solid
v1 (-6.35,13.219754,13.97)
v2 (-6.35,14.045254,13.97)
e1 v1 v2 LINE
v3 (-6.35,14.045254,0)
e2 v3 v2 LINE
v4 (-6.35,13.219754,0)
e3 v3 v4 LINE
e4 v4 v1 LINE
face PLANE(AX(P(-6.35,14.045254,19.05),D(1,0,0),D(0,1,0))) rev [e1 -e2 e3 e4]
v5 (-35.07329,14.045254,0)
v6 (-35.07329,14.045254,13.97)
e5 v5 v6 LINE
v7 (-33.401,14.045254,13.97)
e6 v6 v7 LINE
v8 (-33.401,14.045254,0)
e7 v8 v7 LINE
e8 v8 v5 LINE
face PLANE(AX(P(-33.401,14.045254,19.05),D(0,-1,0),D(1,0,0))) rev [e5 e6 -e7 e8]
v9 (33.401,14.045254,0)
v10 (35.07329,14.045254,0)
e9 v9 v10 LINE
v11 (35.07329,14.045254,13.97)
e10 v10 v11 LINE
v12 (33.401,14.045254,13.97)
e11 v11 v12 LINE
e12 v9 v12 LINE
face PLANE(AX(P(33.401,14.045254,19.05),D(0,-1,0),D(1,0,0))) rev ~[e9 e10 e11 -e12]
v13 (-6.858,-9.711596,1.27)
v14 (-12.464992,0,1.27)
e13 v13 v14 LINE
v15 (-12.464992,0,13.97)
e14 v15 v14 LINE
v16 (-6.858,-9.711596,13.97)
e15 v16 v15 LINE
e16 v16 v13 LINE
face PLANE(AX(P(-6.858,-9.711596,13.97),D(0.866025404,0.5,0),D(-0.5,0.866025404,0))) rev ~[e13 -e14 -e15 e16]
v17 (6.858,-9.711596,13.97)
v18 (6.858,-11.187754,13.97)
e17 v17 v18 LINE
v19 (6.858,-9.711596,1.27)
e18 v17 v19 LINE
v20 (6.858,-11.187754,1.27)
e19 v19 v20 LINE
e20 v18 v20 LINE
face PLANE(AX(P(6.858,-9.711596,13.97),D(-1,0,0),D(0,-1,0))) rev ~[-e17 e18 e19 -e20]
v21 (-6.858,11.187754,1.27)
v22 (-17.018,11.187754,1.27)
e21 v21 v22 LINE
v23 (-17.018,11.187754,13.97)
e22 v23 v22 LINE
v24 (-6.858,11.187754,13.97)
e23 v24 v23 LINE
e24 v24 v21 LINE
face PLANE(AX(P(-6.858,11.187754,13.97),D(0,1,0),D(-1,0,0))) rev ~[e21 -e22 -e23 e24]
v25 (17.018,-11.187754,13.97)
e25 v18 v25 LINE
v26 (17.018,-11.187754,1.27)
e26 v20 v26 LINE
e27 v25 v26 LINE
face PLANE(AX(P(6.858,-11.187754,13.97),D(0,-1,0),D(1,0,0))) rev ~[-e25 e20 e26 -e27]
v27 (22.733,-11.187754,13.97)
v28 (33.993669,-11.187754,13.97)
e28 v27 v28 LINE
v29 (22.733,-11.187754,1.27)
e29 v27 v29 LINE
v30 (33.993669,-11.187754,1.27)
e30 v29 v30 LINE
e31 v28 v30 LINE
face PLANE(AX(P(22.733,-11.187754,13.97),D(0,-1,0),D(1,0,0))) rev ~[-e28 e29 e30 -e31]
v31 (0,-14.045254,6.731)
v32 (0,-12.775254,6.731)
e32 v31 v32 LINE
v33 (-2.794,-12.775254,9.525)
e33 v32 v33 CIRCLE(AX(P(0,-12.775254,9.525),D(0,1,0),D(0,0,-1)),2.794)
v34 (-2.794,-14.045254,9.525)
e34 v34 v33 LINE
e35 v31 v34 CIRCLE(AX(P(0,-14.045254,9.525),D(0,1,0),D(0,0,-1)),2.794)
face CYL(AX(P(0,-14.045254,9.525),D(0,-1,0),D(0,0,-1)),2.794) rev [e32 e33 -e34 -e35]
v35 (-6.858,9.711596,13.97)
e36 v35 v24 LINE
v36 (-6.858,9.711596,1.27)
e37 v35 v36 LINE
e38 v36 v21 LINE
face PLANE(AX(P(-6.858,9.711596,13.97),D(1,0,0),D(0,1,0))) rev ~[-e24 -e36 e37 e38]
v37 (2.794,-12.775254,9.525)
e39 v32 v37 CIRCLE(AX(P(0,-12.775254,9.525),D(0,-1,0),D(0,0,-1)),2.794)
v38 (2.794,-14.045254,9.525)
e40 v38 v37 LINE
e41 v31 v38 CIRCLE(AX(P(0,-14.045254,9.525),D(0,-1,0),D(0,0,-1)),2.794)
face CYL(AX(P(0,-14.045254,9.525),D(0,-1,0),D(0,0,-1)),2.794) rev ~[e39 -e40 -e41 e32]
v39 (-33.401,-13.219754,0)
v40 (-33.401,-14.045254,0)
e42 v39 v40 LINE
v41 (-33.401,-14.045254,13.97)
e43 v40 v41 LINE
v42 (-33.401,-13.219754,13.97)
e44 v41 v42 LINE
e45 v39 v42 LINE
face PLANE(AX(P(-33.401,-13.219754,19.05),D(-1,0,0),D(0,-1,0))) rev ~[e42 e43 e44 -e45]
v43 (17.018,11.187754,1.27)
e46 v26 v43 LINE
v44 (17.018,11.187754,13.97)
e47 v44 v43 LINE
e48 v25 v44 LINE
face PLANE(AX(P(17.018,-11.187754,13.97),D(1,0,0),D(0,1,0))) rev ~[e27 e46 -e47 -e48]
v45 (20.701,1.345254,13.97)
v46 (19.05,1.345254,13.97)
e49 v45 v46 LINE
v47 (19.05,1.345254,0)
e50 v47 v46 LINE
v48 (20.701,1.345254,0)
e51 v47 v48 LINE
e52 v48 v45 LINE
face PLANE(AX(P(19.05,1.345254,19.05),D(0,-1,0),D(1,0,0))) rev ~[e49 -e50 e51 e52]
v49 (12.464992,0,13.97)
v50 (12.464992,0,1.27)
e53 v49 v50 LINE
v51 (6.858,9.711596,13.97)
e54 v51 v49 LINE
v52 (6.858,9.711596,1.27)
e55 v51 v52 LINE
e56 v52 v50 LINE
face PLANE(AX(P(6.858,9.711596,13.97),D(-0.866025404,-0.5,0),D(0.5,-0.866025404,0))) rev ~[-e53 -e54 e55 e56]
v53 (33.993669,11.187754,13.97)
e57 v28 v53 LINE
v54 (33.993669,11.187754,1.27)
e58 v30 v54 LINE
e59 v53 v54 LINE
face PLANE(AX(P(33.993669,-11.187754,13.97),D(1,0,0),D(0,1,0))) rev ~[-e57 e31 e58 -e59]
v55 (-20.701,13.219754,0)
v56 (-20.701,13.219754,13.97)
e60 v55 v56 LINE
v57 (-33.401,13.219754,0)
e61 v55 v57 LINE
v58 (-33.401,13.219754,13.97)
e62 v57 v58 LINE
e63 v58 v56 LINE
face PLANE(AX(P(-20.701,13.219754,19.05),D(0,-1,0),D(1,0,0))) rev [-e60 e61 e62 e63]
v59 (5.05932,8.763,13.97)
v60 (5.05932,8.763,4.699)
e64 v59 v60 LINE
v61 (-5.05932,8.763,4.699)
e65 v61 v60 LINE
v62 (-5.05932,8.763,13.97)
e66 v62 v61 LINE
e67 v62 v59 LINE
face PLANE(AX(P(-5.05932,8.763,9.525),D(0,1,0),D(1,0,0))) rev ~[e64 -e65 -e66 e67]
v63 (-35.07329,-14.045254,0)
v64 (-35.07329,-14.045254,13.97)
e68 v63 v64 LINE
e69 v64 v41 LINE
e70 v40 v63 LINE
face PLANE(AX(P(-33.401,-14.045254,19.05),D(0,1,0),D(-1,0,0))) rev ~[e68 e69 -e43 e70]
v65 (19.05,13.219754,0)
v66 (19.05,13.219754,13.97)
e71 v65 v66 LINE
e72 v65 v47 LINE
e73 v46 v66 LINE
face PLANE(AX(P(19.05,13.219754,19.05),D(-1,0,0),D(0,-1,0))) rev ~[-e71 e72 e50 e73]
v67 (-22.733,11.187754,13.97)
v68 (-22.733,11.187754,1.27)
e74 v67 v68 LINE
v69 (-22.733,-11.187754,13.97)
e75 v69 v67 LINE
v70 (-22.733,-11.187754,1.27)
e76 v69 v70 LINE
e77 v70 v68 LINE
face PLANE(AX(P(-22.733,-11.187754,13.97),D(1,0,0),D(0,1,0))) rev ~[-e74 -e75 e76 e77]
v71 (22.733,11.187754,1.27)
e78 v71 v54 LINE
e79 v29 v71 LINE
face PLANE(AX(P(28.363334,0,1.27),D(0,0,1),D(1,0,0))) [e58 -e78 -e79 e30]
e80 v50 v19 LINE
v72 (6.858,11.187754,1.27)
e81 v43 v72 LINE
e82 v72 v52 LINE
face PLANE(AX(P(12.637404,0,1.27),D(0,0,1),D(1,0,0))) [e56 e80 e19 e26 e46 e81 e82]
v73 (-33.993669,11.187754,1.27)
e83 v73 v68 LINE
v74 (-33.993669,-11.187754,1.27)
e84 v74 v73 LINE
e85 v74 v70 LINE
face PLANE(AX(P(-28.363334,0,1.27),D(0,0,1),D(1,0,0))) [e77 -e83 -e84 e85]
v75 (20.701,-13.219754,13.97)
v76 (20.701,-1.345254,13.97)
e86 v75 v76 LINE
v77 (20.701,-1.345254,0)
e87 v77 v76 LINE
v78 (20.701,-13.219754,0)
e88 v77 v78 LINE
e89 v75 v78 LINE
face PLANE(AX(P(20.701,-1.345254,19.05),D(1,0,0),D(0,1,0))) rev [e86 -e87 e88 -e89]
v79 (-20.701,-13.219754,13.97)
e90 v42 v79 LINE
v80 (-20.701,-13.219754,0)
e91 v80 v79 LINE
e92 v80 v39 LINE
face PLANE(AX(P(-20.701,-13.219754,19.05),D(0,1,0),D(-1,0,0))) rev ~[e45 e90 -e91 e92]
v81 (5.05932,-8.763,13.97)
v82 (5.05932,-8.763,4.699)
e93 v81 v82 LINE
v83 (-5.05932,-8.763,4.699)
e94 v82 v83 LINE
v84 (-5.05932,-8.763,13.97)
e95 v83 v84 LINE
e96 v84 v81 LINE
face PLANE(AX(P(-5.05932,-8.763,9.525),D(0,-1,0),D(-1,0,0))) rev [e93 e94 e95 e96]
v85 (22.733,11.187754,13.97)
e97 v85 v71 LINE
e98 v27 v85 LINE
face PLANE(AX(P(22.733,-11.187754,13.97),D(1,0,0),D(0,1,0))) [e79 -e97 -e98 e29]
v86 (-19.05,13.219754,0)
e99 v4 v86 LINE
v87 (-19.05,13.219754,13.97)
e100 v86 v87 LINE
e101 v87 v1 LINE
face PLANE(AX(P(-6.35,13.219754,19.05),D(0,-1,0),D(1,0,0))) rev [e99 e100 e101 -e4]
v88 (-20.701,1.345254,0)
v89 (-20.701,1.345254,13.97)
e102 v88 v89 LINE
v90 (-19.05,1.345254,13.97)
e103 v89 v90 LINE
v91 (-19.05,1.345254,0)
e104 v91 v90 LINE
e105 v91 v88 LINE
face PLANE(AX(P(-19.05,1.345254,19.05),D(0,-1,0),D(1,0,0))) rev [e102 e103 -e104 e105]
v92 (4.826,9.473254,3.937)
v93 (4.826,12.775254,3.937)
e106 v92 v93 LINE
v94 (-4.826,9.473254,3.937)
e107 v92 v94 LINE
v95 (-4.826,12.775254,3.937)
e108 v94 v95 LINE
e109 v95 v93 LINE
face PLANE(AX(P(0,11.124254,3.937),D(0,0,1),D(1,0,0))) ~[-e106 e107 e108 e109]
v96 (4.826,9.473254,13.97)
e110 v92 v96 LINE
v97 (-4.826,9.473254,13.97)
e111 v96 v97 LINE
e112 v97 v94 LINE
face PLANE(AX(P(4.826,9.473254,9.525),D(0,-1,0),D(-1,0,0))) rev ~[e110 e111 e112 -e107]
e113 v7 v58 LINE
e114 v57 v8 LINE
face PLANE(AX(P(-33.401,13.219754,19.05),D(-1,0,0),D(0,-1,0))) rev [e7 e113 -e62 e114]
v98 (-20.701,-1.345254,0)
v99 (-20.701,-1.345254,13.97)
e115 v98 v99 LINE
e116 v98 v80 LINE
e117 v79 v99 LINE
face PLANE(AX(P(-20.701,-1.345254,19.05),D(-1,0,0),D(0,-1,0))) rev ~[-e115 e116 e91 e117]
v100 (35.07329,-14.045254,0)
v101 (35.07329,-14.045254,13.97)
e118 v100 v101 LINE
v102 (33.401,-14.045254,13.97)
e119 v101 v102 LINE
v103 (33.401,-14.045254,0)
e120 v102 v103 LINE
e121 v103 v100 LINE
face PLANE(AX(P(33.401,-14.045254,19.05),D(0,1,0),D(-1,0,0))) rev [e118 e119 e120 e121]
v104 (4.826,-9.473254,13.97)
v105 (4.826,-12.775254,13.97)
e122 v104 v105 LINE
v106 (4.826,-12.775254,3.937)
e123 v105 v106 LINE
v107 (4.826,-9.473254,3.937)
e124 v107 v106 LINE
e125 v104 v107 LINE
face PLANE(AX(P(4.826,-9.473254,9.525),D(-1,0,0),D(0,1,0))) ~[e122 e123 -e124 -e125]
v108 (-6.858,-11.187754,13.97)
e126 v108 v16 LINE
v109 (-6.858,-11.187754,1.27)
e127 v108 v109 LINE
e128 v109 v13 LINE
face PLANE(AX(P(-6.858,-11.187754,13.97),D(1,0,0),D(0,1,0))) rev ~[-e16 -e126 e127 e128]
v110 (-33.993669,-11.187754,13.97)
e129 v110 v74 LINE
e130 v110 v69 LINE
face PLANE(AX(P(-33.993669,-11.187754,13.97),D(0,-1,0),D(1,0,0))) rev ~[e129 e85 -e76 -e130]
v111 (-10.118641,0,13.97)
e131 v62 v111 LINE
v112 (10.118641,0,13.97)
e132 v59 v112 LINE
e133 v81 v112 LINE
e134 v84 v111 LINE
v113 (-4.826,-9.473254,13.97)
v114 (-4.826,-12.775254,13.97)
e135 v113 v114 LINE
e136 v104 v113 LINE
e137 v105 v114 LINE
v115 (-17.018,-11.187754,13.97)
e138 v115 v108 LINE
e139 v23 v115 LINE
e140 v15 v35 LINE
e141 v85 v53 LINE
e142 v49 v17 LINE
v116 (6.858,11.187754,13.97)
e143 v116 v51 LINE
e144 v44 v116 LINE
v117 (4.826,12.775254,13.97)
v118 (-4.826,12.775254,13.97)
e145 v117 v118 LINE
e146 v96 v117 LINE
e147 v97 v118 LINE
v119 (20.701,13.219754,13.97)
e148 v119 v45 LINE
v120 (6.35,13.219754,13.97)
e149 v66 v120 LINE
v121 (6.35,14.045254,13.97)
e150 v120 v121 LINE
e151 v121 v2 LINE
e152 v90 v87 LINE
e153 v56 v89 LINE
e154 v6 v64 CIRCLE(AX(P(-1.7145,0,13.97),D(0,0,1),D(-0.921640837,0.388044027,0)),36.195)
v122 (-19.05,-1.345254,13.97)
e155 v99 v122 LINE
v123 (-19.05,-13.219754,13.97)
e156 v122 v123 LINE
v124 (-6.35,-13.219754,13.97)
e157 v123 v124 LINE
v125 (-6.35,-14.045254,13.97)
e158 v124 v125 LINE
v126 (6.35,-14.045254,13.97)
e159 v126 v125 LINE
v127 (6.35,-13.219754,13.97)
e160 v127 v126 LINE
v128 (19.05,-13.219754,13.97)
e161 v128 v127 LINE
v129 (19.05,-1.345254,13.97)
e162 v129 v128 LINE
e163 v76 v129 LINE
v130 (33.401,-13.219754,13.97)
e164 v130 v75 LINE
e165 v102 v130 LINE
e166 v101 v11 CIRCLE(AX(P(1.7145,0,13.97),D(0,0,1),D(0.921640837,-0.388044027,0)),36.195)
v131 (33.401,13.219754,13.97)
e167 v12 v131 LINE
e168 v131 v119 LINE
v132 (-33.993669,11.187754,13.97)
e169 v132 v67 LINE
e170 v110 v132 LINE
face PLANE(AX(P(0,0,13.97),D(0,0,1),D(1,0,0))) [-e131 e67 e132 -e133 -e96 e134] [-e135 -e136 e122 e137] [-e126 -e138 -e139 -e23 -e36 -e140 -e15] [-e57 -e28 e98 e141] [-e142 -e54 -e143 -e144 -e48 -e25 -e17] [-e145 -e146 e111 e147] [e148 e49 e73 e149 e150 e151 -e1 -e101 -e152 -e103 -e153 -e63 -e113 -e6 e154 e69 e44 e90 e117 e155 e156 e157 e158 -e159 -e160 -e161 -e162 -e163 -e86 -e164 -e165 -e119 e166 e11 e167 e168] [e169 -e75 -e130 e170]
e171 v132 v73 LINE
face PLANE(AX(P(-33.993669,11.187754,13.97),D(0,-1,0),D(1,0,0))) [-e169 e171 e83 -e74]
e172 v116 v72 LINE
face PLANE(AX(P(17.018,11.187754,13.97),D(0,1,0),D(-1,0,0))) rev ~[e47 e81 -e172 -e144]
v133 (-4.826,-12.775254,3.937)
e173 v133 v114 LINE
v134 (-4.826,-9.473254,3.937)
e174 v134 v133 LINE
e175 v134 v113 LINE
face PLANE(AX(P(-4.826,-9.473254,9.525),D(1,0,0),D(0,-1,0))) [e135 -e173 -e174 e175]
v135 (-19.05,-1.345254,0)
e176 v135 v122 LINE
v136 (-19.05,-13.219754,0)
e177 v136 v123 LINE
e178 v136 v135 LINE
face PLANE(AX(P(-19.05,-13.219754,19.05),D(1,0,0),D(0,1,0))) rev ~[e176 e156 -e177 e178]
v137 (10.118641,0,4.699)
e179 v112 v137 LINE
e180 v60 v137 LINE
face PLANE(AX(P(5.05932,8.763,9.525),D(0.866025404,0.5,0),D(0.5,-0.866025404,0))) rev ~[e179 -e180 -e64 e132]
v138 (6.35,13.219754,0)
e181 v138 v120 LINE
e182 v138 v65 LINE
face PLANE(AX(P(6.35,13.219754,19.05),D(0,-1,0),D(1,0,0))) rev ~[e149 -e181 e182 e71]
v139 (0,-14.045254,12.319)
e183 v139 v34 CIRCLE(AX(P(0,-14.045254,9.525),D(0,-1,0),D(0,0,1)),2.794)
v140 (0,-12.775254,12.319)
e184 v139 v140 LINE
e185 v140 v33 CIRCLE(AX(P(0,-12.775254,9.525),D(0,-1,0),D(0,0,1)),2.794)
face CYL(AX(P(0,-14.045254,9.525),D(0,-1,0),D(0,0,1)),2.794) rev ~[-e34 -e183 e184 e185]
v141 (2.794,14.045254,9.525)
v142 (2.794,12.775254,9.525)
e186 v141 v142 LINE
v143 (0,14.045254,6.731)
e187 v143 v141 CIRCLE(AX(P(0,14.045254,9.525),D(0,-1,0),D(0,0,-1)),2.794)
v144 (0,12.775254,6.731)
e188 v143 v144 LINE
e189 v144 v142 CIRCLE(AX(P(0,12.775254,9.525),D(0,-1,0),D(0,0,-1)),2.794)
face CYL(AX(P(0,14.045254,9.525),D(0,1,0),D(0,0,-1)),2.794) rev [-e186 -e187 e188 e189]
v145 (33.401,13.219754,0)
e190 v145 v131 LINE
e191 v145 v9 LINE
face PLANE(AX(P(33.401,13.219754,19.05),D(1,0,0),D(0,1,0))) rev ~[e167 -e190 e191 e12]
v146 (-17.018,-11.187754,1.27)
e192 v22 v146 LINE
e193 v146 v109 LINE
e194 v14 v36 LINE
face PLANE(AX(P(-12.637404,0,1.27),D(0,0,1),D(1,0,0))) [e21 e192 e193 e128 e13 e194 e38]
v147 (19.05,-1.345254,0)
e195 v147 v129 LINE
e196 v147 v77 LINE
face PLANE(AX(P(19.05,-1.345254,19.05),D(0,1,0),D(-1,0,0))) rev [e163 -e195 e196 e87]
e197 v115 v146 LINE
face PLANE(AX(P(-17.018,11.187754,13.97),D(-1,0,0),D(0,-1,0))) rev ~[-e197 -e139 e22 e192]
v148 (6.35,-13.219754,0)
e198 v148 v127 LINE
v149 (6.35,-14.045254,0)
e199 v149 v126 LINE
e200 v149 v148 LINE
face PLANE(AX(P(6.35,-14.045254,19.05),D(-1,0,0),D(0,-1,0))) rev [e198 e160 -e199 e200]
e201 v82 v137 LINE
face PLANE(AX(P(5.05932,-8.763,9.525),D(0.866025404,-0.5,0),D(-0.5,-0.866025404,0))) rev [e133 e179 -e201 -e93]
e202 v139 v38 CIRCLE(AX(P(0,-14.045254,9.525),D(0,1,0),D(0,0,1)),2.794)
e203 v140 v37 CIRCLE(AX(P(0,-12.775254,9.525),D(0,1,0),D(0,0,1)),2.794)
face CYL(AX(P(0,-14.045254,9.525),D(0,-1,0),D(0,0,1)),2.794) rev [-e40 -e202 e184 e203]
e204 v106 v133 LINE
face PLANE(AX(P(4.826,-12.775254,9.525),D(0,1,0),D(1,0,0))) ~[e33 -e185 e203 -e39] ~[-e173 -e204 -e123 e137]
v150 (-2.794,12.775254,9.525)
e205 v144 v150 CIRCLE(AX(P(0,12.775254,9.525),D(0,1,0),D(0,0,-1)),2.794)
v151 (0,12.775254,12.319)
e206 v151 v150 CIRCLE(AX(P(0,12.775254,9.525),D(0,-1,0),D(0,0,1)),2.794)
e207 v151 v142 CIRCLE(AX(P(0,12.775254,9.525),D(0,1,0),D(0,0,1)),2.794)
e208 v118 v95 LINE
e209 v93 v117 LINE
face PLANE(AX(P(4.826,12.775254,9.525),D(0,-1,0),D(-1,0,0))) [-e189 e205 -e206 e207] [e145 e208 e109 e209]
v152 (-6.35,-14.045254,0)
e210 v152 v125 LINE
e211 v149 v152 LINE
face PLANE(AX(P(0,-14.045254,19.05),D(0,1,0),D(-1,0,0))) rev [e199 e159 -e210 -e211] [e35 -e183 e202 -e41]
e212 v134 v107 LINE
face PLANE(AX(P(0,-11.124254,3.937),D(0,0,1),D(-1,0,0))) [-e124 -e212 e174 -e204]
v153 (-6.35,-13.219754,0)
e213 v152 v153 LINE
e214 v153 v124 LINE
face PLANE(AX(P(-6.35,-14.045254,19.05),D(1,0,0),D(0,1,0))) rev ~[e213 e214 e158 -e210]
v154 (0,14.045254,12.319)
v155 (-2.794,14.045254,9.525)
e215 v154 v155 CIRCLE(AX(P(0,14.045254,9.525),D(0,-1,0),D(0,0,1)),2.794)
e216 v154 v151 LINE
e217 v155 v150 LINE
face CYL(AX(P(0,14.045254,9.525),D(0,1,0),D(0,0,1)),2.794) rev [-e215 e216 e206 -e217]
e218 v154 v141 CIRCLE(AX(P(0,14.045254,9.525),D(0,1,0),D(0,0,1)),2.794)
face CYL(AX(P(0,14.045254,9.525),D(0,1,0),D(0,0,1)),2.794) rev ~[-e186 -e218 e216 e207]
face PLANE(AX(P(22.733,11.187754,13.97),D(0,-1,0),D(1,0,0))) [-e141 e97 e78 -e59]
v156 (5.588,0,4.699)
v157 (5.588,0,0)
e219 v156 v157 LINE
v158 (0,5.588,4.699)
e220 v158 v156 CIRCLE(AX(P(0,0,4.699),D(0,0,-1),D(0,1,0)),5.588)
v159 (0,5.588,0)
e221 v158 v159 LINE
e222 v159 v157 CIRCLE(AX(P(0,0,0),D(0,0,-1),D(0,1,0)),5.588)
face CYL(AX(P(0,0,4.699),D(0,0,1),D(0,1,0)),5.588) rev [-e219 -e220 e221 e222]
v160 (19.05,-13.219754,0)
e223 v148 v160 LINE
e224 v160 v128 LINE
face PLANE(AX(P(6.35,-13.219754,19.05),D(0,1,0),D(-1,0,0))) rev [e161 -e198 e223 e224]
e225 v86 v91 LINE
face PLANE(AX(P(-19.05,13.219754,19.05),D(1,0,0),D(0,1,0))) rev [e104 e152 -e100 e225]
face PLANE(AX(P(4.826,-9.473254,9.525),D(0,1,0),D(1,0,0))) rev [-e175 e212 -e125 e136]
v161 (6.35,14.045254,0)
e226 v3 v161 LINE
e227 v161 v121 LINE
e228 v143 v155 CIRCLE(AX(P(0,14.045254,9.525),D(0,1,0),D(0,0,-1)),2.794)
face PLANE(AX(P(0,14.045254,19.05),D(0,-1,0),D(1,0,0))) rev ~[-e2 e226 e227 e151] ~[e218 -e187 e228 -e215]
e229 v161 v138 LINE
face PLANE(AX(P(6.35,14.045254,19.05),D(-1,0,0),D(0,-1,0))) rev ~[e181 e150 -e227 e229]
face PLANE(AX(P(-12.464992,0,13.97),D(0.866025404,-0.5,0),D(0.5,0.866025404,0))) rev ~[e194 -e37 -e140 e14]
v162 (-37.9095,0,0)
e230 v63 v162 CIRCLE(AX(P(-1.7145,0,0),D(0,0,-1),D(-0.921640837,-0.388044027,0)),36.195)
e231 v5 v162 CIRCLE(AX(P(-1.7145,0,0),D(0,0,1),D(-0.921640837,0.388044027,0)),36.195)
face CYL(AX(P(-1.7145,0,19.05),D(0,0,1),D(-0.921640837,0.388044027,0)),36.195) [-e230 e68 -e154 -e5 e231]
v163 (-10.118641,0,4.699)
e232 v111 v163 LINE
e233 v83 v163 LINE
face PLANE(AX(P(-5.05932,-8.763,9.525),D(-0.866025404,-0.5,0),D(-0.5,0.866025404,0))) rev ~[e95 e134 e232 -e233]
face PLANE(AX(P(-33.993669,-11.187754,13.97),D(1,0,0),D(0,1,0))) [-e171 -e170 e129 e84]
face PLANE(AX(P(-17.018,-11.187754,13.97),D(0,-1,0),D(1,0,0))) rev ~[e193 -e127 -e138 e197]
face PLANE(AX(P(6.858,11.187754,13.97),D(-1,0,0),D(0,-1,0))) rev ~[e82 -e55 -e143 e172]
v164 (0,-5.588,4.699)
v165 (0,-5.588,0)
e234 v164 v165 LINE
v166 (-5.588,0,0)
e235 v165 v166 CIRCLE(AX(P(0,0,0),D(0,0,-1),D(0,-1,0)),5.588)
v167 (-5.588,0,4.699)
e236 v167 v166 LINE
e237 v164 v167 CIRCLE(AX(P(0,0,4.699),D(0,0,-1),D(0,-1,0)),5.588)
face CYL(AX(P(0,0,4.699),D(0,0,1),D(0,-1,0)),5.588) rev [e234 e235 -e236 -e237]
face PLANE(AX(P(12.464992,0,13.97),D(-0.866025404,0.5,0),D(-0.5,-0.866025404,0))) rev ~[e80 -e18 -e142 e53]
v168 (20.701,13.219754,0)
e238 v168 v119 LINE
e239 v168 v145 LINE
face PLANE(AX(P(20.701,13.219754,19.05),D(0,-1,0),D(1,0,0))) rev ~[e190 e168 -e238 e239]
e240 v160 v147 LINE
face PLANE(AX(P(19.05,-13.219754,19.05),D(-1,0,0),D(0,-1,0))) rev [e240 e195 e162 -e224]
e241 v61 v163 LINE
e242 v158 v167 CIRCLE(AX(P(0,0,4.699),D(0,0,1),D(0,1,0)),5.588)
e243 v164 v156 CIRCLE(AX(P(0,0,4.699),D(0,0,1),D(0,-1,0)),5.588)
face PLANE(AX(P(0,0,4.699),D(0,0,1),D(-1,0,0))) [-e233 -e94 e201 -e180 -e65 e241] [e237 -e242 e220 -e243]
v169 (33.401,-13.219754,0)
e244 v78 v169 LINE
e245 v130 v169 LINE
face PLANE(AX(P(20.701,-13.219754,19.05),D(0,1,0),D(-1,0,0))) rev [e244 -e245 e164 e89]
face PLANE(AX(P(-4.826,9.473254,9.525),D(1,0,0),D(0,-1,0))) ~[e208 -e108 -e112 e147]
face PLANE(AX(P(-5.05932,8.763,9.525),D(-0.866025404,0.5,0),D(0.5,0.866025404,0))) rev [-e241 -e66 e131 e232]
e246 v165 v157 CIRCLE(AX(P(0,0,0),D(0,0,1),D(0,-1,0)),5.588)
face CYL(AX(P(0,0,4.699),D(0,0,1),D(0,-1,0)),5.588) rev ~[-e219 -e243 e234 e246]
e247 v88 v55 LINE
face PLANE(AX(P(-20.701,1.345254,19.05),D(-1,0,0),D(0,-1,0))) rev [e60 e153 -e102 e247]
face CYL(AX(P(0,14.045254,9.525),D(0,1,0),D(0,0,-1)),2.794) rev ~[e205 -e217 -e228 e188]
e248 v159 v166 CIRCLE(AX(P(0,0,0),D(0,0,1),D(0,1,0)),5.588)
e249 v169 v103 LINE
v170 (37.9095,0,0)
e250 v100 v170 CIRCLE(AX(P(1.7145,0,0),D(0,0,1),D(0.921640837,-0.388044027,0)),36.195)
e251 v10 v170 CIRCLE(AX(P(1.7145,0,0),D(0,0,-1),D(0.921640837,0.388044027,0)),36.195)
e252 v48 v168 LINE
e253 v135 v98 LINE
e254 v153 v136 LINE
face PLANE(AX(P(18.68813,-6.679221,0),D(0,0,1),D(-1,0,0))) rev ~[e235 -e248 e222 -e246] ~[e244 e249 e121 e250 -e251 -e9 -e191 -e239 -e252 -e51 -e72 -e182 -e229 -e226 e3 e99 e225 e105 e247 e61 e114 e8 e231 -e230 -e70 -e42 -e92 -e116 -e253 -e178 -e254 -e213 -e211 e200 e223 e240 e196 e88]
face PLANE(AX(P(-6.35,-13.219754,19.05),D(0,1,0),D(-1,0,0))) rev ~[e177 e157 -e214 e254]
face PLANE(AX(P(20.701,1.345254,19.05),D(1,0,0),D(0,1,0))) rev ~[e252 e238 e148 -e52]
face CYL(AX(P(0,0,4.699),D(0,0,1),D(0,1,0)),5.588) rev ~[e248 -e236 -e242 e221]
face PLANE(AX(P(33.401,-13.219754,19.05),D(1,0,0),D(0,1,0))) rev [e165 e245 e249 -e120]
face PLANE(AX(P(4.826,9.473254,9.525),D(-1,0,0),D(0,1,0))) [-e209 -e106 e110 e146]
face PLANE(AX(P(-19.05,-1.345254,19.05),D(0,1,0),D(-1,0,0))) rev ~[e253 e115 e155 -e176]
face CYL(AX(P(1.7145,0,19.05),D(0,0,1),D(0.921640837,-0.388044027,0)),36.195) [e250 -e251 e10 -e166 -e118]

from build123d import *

# Parameters (mm, degrees)
F1_DEPTH  = 9.525
F3_DEPTH  = 6.35
F4_W      = 9.652
F4_H      = 3.302
F5_DEPTH  = 5.588
F7_DEPTH  = 4.826
F9_DEPTH  = 4.699
F11_DEPTH = 1.778
F16_W     = 80.8186978102
F16_H     = 32.7942222357
F17_DEPTH = 5.08
F18_W     = 11.260668817
F18_H     = 22.375507099
F19_DEPTH = 12.7


with BuildPart() as f1:
    # F0 (on Top) → F1 (new body)
    with BuildSketch(Plane.XY):
        with BuildLine():
            Line((-33.401, 14.0452535495), (-35.0732901119, 14.0452535495))
            ThreePointArc((-35.0732901119, 14.0452535495), (-37.1933629546, 7.1643777434), (-37.9095, 0))
            Line((-37.9095, 0), (0, 0))
            Line((0, 0), (0, 14.0452535495))
            Line((0, 14.0452535495), (-6.35, 14.0452535495))
            Line((-6.35, 14.0452535495), (-6.35, 13.2197535495))
            Line((-6.35, 13.2197535495), (-19.05, 13.2197535495))
            Line((-19.05, 13.2197535495), (-19.05, 1.3452535495))
            Line((-19.05, 1.3452535495), (-20.701, 1.3452535495))
            Line((-20.701, 1.3452535495), (-20.701, 13.2197535495))
            Line((-20.701, 13.2197535495), (-33.401, 13.2197535495))
            Line((-33.401, 13.2197535495), (-33.401, 14.0452535495))
        make_face()
    extrude(amount=F1_DEPTH)

    # F2 (on face) → F3 (cut)
    with BuildSketch(Plane.XY.offset(9.525)):
        Polygon((5.1326438931, -8.89), (10.2652877862, 0), (5.1326438931, 8.89), (0, 8.89), (0, 0), (-10.2652877862, 0), (-5.1326438931, -8.89), align=None)
    extrude(amount=-F3_DEPTH, mode=Mode.SUBTRACT)

    # F4 (on face) → F5 (cut)
    with BuildSketch(Plane.XY.offset(9.525)):
        with Locations((0, -11.1242535495)):
            Rectangle(F4_W, F4_H)
        with Locations((0, 11.1242535495)):
            Rectangle(F4_W, F4_H)
    extrude(amount=-F5_DEPTH, mode=Mode.SUBTRACT)

    # F6 (on face) → F7 (cut)
    with BuildSketch(Plane.XY.offset(9.525)):
        Polygon((-5.0593204089, -8.763), (5.0593204089, -8.763), (10.1186408178, 0), (5.0593204089, 8.763), (-5.0593204089, 8.763), (-10.1186408178, 0), align=None)
    extrude(amount=-F7_DEPTH, mode=Mode.SUBTRACT)

    # F8 (on face) → F9 (cut, through all)
    with BuildSketch(Plane.XY.offset(4.699)):
        with BuildLine():
            Line((0, 0), (0, 5.588))
            ThreePointArc((0, 5.588), (-3.9513126933, 3.9513126933), (-5.588, 0))
            Line((-5.588, 0), (0, 0))
        make_face()
    extrude(amount=-F9_DEPTH, mode=Mode.SUBTRACT)

    # F10 (on face) → F11 (cut)
    with BuildSketch(Plane(origin=(0, 14.0452535495, 0), x_dir=(-1, 0, 0), z_dir=(0, 1, 0))):
        with BuildLine():
            Line((0, 9.525), (2.794, 9.525))
            ThreePointArc((2.794, 9.525), (-1.9756563466, 11.5006563466), (0, 6.731))
            Line((0, 6.731), (0, 9.525))
        make_face()
        with BuildLine():
            ThreePointArc((0, 6.731), (1.9756563466, 7.5493436534), (2.794, 9.525))
            Line((2.794, 9.525), (0, 9.525))
            Line((0, 9.525), (0, 6.731))
        make_face()
    extrude(amount=-F11_DEPTH, mode=Mode.SUBTRACT)

    # F12: F1 across plane


with BuildPart() as f1_1:
    add(f1.part)
    add(f1.part.mirror(Plane.XZ))

    # F13: F1 across plane


with BuildPart() as f1_2:
    add(f1_1.part)
    add(f1_1.part.mirror(Plane.YZ))

    # F15: F1 across plane


with BuildPart() as f1_3:
    add(f1_2.part)
    add(f1_2.part.mirror(Plane.XY.offset(9.525)))

    # F16 (on face) → F17 (cut)
    with BuildSketch(Plane.XY.offset(19.05)):
        Rectangle(F16_W, F16_H)
    extrude(amount=-F17_DEPTH, mode=Mode.SUBTRACT)

    # F18 (on face) → F19 (cut)
    with BuildSketch(Plane.XY.offset(13.97)):
        with Locations((-28.3633344085, 0)):
            Rectangle(F18_W, F18_H)
        Polygon((-6.858, 11.1877535495), (-17.018, 11.1877535495), (-17.018, -11.1877535495), (-6.858, -11.1877535495), (-6.858, -9.7115955617), (-12.4649923118, 0), (-6.858, 9.7115955617), align=None)
        Polygon((17.018, 11.1877535495), (6.858, 11.1877535495), (6.858, 9.7115955617), (12.4649923118, 0), (6.858, -9.7115955617), (6.858, -11.1877535495), (17.018, -11.1877535495), align=None)
        with Locations((28.3633344085, 0)):
            Rectangle(F18_W, F18_H)
    extrude(amount=-F19_DEPTH, mode=Mode.SUBTRACT)

    # F20: F1 across plane


with BuildPart() as f1_4:
    add(f1_3.part)
    add(f1_3.part.mirror(Plane.XZ))


solid = f1_4.part
